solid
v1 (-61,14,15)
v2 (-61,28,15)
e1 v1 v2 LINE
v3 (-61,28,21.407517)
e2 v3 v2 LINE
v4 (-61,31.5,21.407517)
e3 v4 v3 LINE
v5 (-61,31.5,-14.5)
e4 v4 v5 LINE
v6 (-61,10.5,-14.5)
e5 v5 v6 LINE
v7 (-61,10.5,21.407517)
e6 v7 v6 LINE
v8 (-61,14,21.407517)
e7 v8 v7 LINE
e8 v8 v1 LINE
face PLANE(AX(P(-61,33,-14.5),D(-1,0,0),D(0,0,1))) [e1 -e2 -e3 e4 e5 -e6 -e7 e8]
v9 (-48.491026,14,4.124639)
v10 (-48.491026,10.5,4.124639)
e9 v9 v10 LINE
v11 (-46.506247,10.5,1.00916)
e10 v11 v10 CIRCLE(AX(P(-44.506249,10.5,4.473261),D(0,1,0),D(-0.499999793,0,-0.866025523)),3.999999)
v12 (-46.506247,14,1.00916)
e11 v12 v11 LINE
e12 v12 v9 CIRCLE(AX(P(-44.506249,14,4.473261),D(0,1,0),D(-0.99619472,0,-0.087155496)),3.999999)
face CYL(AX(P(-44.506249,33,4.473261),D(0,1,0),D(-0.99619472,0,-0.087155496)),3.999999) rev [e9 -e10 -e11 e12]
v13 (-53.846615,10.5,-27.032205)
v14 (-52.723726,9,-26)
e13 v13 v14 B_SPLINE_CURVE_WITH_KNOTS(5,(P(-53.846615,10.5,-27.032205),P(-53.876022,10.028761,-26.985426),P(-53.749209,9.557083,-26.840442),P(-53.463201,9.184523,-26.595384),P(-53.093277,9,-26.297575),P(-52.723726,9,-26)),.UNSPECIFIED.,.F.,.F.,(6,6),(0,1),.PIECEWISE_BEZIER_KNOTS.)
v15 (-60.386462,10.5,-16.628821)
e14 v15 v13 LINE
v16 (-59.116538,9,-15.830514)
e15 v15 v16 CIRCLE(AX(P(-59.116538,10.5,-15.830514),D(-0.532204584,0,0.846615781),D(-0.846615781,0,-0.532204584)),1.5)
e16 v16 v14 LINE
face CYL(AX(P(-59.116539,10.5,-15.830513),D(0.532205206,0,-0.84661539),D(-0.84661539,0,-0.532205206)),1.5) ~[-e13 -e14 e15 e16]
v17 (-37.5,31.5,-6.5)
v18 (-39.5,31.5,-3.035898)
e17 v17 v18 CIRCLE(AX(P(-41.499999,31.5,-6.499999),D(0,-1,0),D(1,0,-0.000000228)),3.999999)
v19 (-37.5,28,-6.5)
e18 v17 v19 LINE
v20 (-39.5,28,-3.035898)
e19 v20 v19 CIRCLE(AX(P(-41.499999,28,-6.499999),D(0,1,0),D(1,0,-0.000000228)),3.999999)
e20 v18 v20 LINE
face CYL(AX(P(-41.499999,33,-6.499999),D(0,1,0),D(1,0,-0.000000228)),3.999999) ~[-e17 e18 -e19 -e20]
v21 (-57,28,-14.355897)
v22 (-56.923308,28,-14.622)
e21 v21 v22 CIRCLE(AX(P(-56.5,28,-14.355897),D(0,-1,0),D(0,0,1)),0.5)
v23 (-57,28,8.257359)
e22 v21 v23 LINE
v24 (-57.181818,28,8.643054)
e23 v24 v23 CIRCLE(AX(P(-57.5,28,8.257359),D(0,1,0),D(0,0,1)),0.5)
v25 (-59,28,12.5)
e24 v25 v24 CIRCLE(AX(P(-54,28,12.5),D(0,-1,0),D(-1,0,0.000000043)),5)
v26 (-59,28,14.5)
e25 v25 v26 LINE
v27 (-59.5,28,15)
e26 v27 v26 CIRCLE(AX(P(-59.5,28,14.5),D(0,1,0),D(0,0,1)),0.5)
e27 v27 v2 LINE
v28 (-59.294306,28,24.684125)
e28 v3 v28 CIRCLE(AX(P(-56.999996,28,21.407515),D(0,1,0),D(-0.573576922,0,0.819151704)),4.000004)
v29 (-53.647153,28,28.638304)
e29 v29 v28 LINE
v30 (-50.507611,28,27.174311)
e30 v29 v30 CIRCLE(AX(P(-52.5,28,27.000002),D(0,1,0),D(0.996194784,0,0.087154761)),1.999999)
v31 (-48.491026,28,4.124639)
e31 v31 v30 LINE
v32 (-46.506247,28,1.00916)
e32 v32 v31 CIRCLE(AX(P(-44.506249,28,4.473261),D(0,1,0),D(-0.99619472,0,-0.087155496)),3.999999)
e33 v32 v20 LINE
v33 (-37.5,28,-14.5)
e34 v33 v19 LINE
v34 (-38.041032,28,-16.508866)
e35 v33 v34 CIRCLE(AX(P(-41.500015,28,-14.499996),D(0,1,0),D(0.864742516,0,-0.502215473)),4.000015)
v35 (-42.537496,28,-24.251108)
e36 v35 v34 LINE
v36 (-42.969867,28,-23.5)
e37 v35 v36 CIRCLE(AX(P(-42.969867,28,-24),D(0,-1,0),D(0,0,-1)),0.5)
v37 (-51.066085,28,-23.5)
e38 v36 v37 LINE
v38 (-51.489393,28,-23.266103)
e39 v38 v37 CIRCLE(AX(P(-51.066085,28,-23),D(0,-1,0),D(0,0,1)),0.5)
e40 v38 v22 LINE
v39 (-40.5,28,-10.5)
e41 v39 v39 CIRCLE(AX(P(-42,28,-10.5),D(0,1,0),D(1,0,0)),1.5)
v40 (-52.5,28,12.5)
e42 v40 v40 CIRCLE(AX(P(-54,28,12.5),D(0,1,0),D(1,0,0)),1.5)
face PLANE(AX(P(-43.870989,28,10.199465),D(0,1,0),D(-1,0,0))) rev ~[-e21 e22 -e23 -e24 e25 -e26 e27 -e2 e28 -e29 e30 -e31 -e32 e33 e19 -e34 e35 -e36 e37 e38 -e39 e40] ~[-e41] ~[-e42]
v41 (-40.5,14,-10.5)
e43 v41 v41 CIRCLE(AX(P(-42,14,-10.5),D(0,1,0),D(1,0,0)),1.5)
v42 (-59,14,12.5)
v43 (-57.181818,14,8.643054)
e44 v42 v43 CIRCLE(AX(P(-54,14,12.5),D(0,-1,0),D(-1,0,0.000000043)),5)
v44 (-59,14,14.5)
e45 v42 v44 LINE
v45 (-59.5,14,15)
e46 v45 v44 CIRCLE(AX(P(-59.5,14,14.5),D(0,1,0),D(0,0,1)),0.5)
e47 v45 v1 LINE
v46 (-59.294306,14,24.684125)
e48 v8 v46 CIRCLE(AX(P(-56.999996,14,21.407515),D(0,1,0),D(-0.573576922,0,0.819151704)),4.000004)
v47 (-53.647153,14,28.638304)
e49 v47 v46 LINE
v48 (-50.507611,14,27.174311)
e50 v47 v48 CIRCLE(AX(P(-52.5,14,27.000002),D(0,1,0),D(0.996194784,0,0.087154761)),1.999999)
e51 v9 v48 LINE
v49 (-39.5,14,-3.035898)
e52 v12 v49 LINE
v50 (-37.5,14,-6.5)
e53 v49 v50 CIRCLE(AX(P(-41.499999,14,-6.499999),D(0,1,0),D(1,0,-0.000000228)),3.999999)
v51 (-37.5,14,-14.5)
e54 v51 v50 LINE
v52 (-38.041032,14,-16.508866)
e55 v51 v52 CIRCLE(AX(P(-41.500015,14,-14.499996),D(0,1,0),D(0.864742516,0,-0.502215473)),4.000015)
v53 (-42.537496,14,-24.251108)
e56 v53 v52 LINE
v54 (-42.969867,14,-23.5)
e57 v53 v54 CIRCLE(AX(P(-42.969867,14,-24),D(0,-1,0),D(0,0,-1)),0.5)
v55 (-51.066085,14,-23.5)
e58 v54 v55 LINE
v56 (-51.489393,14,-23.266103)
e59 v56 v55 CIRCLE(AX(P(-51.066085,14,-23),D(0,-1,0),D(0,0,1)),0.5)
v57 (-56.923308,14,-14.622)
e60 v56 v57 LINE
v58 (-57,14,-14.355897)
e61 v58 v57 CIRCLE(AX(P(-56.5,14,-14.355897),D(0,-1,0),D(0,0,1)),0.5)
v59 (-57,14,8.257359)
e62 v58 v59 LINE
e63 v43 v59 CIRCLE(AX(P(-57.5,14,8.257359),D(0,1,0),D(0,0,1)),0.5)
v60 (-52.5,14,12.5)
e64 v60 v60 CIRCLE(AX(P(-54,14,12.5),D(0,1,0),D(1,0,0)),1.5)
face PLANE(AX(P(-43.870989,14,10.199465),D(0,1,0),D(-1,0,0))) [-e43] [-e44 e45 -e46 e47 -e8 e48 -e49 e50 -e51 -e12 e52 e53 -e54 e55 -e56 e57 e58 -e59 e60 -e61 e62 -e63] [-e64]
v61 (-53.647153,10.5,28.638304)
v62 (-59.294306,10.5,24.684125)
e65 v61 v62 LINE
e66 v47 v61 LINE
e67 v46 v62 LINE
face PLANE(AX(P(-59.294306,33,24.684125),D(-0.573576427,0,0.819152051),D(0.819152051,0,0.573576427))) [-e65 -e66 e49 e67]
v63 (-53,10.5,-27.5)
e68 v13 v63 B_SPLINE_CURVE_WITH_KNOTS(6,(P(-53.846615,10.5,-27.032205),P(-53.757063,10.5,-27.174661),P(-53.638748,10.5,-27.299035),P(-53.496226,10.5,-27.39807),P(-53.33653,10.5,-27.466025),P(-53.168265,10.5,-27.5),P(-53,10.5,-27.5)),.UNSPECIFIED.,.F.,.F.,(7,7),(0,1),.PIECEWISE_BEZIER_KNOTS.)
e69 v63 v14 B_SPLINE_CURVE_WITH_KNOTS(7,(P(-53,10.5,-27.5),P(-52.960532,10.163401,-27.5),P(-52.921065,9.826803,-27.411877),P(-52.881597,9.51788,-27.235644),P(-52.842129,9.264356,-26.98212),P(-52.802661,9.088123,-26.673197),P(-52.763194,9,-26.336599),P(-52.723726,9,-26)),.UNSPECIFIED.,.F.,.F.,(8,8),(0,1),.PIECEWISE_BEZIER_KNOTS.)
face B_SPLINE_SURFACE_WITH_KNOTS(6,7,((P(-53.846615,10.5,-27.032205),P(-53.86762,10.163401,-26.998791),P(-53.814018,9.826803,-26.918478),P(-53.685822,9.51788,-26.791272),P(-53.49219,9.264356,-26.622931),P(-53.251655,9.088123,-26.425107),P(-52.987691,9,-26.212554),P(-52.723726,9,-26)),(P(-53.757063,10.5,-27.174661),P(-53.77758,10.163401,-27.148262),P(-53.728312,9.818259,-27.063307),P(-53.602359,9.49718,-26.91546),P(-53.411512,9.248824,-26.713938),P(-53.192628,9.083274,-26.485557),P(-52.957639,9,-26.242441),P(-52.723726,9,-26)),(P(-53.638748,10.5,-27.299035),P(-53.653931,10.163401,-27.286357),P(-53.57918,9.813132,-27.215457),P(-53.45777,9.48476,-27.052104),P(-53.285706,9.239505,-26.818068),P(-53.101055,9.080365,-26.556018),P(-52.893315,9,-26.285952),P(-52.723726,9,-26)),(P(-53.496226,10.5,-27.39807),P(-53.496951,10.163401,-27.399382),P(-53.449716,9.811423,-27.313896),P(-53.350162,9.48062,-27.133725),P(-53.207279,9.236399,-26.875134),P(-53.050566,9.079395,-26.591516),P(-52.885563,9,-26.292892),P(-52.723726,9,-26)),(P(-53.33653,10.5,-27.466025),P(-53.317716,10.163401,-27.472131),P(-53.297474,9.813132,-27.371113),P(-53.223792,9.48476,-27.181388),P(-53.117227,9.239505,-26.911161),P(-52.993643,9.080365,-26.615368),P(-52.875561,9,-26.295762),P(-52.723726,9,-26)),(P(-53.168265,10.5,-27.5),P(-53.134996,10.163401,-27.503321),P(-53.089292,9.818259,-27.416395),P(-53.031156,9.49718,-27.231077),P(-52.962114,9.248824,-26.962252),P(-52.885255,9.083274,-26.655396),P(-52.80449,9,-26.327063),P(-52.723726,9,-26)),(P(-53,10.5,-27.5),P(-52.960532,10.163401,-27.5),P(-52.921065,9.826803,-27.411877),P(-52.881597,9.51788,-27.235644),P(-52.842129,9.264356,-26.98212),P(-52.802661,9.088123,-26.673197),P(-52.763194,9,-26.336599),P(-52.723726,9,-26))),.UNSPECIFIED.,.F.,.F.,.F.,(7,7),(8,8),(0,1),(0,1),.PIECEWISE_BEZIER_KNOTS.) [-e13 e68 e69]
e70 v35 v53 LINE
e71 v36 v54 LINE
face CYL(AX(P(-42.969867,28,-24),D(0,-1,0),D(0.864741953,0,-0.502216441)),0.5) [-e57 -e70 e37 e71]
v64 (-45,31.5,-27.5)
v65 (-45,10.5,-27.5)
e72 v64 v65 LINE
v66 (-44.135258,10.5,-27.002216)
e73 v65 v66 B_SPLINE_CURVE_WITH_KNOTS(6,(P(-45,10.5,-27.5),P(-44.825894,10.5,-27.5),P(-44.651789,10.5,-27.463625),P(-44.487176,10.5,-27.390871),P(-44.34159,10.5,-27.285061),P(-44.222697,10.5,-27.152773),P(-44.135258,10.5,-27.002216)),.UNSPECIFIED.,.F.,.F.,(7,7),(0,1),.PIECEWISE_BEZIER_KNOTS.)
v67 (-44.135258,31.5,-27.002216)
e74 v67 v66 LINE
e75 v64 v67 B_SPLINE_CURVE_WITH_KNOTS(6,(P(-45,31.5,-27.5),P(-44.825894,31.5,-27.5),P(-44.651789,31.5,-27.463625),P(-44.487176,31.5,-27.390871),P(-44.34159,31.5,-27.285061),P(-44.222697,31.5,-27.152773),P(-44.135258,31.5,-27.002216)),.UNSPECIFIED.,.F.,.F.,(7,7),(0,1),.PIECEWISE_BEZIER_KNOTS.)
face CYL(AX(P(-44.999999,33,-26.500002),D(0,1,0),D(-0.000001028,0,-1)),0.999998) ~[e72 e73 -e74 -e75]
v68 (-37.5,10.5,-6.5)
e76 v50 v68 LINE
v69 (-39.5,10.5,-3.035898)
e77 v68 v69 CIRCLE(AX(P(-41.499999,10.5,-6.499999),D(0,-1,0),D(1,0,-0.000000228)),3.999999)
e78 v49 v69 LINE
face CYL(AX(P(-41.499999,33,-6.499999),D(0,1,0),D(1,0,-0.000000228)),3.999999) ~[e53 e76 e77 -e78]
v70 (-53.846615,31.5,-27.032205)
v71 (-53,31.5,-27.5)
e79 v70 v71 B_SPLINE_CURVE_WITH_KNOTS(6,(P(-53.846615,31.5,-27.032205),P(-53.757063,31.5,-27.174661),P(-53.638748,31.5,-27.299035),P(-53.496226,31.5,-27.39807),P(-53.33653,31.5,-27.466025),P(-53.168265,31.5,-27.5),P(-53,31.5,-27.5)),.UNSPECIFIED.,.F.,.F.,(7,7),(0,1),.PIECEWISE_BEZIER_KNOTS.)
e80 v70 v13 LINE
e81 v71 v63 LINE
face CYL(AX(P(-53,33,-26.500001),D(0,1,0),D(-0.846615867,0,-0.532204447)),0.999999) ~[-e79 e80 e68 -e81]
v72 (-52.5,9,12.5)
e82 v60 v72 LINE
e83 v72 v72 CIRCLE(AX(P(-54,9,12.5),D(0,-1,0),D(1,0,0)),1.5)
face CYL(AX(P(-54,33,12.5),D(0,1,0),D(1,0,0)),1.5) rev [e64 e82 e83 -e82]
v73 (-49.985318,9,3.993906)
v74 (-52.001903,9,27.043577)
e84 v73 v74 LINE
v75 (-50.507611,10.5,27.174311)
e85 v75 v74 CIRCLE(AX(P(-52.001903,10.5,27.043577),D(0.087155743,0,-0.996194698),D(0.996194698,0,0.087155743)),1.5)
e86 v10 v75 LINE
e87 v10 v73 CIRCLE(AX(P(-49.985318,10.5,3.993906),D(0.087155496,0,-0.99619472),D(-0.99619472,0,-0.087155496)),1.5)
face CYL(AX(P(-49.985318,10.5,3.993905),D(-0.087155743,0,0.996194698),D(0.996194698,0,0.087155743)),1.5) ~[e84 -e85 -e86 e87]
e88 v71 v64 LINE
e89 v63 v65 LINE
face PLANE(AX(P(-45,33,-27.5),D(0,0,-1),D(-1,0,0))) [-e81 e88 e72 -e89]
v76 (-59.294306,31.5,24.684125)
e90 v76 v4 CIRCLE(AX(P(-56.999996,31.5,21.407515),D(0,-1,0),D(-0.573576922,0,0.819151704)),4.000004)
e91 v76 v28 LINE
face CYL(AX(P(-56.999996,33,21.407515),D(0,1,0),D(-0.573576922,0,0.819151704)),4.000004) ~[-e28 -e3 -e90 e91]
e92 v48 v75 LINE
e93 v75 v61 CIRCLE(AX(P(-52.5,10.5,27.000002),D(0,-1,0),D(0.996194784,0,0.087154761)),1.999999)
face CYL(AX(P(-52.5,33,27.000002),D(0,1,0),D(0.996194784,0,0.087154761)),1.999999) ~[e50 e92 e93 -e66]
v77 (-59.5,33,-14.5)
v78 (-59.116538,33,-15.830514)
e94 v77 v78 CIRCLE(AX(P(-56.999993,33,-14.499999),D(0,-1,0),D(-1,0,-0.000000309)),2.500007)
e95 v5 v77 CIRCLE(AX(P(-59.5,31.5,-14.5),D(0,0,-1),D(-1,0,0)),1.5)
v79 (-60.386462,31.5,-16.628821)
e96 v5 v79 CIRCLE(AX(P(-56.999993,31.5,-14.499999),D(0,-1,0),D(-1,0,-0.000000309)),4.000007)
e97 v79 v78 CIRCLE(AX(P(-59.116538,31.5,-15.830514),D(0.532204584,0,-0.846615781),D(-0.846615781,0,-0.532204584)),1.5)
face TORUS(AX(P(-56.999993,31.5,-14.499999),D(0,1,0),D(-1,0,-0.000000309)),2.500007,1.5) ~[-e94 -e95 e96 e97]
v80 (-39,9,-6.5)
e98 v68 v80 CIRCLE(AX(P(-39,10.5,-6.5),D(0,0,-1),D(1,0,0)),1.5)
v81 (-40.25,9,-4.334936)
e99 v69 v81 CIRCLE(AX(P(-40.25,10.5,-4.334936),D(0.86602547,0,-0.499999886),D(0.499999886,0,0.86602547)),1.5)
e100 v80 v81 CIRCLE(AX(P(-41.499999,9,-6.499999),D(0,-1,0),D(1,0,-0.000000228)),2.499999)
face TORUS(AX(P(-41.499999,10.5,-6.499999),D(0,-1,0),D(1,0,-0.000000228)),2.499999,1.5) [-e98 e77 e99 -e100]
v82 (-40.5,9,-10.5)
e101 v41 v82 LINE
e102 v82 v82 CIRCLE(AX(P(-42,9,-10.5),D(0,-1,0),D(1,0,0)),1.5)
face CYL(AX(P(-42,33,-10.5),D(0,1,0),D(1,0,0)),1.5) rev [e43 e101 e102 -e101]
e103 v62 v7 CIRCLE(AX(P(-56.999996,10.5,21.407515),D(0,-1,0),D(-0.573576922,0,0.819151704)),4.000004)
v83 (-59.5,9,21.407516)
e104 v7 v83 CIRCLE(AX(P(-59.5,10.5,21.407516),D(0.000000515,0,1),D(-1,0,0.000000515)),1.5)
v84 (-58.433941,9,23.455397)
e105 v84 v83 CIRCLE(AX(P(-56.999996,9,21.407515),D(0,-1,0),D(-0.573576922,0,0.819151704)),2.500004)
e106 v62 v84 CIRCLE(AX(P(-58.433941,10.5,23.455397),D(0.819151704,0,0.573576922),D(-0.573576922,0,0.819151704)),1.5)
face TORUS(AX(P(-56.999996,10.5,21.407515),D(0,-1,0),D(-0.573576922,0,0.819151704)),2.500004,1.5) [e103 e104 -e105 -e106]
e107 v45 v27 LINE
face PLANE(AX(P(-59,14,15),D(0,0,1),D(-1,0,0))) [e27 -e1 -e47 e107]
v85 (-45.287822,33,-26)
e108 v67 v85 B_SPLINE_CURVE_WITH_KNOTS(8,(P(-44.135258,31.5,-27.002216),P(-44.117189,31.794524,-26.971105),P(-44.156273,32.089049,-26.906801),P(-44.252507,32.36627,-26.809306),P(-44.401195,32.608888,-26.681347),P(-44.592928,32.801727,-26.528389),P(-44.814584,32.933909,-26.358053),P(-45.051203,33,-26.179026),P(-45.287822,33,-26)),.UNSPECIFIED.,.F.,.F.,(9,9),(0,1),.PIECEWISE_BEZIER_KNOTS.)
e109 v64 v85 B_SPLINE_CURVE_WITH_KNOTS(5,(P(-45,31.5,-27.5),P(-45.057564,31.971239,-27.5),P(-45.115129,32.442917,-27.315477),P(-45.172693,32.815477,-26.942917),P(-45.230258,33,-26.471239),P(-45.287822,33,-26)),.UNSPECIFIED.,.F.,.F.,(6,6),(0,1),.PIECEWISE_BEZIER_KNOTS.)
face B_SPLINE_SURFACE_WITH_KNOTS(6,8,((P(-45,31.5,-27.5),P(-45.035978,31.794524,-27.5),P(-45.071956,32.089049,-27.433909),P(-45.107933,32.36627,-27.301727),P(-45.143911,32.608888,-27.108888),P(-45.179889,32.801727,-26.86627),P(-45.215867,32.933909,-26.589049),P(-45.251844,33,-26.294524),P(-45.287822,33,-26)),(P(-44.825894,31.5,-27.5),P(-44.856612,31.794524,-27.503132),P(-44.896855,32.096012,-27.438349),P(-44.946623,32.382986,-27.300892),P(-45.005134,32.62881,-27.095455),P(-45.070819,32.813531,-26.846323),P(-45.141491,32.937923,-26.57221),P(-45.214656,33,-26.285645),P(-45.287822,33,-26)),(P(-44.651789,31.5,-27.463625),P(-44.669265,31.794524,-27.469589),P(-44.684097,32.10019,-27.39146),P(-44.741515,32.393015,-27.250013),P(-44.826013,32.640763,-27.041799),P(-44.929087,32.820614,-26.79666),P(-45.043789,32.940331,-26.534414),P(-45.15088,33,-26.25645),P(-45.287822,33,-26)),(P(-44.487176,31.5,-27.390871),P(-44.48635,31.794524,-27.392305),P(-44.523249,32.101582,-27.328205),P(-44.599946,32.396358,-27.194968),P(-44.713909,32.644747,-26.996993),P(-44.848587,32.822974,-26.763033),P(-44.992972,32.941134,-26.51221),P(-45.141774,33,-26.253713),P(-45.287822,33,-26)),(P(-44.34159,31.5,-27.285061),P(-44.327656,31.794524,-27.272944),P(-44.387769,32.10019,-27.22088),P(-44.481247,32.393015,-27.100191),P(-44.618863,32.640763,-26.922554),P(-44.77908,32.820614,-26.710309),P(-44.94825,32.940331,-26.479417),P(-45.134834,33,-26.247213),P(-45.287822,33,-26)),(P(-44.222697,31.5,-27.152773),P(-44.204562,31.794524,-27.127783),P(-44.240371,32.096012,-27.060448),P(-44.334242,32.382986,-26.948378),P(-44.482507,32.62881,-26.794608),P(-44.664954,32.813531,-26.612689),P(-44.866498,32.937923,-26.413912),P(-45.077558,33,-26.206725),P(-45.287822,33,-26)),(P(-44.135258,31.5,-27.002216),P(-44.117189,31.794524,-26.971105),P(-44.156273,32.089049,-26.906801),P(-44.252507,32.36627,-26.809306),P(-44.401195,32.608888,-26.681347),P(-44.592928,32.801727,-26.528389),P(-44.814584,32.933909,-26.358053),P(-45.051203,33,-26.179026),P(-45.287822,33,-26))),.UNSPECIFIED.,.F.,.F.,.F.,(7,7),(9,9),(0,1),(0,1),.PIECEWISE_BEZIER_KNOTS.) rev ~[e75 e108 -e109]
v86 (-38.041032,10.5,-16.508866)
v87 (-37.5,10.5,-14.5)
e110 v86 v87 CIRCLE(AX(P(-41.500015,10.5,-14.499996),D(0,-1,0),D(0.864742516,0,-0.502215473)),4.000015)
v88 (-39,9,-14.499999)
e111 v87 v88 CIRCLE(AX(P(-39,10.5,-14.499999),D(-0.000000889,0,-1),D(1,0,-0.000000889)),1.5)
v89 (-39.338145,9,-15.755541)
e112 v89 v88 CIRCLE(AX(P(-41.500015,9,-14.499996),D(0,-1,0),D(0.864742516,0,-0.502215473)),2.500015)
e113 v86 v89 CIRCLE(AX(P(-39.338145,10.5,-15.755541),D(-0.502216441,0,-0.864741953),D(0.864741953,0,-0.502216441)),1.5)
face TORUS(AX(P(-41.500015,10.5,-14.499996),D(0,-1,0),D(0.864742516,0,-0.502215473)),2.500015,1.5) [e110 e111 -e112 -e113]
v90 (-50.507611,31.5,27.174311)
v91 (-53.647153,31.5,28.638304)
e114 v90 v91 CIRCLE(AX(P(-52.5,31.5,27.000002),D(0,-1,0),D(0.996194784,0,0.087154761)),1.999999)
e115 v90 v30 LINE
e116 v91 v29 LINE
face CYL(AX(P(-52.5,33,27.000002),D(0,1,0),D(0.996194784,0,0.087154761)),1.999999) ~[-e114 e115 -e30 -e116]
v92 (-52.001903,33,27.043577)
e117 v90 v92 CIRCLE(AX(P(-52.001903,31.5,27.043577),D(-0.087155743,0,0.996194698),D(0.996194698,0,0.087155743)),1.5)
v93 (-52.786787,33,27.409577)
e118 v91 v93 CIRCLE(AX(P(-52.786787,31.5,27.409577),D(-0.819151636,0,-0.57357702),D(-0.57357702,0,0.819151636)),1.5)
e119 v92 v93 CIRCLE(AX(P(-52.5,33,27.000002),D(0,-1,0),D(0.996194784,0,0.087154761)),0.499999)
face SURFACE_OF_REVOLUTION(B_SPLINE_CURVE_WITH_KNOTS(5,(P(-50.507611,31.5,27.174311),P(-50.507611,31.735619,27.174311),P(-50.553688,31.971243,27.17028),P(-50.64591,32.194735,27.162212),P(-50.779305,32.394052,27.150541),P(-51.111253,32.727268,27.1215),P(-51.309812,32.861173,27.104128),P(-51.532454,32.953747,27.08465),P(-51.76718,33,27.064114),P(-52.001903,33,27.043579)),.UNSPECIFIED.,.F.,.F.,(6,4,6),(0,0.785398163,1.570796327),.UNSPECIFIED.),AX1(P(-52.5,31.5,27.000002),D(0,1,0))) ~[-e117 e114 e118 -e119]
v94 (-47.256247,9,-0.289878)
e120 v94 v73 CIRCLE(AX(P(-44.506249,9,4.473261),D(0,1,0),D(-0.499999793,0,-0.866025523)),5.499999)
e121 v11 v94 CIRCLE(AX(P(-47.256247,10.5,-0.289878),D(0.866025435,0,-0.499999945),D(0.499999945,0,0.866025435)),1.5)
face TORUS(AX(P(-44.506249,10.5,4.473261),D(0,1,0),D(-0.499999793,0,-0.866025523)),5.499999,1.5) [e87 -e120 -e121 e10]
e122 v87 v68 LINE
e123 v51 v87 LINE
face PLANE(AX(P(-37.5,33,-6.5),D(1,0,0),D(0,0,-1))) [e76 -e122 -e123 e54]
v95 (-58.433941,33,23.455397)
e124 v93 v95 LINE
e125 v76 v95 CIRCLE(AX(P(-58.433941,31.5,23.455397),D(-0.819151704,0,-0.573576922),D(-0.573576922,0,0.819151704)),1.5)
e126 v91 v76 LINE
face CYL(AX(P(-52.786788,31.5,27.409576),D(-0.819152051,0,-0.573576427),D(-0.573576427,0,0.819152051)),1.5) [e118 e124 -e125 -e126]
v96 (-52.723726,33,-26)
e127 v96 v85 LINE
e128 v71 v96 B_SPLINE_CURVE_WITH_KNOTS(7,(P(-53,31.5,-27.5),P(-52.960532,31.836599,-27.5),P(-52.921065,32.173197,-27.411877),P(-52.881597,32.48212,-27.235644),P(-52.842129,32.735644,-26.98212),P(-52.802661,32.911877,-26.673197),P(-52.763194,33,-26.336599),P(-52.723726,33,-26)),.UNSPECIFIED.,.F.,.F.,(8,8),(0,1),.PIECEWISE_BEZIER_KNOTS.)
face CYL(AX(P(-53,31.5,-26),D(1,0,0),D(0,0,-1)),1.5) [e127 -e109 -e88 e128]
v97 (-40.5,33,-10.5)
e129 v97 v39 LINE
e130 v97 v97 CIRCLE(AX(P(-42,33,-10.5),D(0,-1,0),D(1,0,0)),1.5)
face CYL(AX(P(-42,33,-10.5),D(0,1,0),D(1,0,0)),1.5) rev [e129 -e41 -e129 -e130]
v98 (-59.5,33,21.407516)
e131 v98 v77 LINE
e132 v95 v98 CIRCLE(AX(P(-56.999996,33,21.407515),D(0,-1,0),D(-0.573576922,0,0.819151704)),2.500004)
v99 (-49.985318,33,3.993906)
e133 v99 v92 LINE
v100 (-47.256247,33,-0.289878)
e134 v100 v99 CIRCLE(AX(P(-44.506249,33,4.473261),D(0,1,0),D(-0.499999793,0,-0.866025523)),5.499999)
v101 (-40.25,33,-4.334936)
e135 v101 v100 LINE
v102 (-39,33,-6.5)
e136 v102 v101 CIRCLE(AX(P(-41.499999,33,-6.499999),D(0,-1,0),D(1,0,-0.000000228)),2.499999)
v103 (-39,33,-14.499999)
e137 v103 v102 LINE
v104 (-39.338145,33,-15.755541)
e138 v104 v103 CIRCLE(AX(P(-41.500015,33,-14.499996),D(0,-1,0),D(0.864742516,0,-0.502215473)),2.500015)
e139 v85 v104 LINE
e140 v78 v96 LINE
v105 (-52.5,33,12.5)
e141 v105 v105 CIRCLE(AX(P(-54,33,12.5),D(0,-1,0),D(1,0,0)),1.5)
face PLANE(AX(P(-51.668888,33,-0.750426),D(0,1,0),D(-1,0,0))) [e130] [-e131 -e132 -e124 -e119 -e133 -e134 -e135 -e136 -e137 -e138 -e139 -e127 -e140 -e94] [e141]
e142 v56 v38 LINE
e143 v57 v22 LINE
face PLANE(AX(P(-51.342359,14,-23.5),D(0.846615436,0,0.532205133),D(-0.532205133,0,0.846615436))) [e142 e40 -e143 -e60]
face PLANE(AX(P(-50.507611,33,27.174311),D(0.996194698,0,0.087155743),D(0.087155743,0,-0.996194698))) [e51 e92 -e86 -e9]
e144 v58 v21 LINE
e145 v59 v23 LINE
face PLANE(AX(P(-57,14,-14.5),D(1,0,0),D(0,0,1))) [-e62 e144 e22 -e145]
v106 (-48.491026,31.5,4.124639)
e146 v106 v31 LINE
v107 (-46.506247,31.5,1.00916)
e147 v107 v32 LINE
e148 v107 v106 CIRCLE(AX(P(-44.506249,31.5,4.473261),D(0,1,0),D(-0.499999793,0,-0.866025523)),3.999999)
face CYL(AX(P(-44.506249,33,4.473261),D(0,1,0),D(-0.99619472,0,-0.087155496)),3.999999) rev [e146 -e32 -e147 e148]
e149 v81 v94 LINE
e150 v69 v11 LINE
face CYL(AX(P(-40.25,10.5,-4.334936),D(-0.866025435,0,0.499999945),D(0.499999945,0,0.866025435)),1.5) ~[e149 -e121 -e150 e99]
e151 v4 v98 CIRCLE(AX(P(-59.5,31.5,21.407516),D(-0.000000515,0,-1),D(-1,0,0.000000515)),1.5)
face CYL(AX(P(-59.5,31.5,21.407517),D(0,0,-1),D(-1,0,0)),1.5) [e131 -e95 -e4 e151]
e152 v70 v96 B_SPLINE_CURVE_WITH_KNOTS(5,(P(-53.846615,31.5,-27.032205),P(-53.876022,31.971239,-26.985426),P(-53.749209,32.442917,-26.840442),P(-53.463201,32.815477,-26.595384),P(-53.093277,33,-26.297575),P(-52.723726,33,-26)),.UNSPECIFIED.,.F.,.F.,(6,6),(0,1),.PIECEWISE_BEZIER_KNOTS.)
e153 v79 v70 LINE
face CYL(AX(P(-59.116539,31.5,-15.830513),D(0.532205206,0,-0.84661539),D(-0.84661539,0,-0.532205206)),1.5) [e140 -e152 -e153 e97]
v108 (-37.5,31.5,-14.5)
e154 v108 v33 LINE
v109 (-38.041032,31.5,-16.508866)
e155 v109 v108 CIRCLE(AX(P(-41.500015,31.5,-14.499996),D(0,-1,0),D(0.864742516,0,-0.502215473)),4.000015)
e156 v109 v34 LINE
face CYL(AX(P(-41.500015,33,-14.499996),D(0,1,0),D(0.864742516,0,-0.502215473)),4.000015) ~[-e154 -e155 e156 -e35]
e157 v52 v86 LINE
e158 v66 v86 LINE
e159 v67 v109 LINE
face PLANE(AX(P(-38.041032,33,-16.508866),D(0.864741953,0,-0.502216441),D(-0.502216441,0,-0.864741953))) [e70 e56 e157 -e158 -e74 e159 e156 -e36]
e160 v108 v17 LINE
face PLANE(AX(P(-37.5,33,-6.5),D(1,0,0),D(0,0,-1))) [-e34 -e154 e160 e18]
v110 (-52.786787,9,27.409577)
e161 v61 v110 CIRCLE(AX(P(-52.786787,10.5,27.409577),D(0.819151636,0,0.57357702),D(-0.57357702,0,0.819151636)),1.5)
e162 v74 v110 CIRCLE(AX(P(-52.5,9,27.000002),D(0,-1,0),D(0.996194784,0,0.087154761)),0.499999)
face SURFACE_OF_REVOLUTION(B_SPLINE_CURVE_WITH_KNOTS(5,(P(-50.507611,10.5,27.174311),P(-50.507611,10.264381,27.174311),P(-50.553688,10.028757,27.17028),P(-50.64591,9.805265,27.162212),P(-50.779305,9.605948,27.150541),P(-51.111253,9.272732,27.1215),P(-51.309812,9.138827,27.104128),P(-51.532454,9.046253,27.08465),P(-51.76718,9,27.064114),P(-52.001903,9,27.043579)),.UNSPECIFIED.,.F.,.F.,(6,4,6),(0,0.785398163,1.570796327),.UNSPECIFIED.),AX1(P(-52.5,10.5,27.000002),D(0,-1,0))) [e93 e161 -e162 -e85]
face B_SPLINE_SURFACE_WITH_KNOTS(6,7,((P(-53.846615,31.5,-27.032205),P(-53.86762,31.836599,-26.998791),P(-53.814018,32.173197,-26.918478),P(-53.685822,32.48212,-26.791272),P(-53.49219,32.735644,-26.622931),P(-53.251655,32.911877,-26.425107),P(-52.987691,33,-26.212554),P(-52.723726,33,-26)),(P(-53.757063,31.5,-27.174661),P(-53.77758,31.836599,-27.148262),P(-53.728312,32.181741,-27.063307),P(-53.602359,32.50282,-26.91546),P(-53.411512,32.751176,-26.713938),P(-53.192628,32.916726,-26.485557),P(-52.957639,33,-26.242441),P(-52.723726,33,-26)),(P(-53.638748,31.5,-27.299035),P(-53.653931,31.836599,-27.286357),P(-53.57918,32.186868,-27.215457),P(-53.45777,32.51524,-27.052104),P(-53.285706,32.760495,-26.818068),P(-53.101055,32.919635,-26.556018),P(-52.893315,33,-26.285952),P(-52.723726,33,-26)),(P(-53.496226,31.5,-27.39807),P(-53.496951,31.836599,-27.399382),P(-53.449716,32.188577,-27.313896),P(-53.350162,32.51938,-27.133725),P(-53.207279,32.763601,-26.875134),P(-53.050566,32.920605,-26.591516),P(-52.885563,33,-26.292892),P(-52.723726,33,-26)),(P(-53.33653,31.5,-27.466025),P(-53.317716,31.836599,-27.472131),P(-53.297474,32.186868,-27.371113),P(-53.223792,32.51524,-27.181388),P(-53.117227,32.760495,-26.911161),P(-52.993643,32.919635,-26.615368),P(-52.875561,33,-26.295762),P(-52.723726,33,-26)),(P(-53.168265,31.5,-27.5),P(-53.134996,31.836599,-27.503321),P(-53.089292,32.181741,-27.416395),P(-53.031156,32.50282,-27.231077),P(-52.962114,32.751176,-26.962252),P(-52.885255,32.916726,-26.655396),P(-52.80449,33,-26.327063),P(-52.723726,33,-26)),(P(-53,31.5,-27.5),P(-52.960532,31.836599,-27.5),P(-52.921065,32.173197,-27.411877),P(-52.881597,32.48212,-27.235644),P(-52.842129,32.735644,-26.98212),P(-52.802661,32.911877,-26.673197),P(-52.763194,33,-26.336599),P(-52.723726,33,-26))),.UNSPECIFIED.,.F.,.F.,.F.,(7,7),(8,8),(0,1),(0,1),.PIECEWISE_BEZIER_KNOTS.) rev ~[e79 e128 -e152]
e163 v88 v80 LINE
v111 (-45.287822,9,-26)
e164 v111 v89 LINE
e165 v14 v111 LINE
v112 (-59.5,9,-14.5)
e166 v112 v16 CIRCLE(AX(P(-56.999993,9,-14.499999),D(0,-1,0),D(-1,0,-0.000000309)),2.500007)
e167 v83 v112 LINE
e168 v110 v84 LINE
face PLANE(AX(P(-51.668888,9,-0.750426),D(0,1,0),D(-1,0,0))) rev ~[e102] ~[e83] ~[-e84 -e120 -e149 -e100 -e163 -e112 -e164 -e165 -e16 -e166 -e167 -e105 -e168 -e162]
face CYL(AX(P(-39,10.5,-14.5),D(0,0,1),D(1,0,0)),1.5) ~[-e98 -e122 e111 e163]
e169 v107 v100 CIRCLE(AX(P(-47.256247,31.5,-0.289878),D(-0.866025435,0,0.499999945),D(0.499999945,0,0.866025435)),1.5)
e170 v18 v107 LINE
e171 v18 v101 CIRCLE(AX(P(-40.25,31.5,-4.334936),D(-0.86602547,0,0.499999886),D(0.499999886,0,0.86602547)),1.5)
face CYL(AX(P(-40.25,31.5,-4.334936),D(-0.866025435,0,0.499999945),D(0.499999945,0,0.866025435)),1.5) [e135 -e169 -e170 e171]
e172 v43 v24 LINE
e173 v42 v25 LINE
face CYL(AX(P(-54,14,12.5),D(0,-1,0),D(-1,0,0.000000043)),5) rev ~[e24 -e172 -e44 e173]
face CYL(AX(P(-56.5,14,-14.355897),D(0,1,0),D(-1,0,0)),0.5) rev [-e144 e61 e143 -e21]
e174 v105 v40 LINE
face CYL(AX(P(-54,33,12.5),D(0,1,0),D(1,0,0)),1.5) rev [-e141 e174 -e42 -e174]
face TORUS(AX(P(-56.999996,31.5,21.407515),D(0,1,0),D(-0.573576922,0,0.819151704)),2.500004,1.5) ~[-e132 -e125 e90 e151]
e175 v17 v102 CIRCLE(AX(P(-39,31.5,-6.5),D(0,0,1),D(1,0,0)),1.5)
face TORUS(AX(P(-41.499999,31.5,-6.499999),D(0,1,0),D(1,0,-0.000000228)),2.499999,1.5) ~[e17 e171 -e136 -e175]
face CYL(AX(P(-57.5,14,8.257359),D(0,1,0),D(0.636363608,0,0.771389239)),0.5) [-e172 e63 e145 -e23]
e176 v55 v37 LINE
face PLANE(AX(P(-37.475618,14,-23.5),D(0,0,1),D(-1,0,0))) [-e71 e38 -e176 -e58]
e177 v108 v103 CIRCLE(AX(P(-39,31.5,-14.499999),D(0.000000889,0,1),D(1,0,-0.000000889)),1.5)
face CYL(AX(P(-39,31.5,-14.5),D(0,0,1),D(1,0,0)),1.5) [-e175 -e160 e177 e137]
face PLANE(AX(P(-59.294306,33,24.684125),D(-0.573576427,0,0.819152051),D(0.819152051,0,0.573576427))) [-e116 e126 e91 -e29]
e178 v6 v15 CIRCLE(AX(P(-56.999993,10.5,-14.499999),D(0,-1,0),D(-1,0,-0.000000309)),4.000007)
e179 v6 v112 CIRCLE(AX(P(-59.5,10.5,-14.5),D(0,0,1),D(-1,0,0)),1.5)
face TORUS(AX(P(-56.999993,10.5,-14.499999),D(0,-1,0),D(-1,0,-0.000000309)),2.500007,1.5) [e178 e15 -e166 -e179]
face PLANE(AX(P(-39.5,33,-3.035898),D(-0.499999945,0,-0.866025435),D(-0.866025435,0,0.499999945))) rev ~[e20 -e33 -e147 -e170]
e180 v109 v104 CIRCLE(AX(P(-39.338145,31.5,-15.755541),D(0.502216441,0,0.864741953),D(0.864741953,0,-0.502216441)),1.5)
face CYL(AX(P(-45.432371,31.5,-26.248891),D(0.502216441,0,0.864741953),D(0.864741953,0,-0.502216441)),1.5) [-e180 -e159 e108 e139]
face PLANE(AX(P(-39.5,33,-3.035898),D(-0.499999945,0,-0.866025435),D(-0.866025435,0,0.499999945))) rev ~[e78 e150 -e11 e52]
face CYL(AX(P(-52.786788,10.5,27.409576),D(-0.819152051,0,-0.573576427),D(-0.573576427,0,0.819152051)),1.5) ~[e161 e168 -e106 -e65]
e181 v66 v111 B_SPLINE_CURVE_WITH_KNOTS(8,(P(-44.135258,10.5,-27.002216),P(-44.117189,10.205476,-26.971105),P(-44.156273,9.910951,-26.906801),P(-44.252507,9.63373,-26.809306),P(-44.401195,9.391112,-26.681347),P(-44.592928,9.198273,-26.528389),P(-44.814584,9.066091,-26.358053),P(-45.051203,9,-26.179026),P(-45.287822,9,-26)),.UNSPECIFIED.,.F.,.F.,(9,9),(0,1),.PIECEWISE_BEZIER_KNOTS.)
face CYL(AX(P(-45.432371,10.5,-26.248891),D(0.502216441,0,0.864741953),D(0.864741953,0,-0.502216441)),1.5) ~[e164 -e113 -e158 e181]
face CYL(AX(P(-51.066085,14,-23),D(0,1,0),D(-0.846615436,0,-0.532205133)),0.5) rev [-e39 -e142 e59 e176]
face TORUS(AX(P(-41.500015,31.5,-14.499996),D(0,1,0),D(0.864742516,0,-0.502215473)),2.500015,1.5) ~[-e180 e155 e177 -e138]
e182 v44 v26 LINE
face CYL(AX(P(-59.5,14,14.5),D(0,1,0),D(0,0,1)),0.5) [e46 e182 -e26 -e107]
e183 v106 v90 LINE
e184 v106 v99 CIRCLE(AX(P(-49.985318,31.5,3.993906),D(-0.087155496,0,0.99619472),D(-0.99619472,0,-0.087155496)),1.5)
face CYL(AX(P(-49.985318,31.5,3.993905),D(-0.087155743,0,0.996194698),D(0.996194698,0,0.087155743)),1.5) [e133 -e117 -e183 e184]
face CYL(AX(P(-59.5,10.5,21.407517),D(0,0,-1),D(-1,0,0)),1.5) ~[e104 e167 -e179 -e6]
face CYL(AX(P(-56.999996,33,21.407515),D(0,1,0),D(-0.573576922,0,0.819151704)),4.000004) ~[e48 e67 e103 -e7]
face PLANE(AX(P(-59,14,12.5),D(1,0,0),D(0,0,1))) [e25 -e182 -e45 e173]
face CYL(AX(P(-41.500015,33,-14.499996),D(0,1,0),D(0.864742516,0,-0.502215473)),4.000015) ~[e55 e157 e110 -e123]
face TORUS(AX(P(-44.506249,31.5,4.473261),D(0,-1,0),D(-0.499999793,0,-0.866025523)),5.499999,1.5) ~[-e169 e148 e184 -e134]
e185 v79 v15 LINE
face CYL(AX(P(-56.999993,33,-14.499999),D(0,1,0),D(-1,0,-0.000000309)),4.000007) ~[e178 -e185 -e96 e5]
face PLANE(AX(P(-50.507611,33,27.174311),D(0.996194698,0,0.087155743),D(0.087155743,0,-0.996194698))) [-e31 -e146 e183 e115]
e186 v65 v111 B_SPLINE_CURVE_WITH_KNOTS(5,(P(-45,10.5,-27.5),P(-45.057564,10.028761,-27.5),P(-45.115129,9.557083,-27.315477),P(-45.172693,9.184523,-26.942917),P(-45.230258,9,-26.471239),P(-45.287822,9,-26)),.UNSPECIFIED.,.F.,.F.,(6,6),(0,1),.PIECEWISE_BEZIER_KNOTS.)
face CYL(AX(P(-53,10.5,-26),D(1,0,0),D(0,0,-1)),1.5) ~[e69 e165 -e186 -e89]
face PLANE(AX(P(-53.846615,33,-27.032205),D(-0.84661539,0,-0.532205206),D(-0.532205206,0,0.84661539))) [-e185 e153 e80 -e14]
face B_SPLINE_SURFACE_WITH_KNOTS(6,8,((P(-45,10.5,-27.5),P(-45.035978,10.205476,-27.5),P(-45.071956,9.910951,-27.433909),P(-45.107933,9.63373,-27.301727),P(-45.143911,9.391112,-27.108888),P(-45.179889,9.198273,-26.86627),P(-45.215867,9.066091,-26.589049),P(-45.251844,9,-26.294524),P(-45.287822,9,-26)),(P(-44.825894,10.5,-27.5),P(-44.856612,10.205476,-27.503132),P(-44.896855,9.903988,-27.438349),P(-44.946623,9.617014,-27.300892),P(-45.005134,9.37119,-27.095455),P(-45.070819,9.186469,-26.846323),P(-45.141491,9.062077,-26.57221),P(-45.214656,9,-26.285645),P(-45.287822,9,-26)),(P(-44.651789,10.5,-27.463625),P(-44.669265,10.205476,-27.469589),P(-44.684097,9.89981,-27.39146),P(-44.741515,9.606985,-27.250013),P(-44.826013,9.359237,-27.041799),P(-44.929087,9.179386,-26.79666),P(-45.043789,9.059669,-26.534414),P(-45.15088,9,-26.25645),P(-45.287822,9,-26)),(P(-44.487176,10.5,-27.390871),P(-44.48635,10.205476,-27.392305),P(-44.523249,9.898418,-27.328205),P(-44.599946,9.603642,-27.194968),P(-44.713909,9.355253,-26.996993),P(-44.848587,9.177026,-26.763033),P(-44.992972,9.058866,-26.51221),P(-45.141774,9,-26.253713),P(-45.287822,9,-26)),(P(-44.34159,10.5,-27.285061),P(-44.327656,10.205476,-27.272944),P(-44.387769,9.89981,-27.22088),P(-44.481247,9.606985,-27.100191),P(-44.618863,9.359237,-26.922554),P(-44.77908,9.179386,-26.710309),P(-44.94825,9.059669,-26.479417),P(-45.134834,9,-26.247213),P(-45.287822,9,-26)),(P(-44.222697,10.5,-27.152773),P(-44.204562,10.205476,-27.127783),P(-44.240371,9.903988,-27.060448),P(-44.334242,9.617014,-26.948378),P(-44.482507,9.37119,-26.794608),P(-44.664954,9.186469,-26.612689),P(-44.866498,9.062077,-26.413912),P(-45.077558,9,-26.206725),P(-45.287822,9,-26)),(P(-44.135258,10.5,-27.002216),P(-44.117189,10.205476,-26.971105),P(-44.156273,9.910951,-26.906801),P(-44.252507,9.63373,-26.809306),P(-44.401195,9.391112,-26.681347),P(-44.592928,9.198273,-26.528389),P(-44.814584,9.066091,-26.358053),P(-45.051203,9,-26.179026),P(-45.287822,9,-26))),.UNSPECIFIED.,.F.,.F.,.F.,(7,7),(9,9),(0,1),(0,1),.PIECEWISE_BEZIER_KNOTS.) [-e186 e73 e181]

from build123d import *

# Parameters (mm, degrees)
SKETCH036_R     = 1.5
PAD021_DEPTH    = 24
FILLET007_R     = 1.5
POCKET013_DEPTH = 14
FILLET008_R     = 0.5


with BuildPart() as part:
    # Sketch036 → Pad021 (new body)
    with BuildSketch(Plane.XZ):
        with BuildLine():
            Line((-59.294306, 24.684125), (-53.647153, 28.638304))
            ThreePointArc((-50.507611, 27.174311), (-51.654763, 28.812616), (-53.647153, 28.638304))
            Line((-50.507611, 27.174311), (-48.491026, 4.124639))
            ThreePointArc((-48.491026, 4.124639), (-47.879813, 2.324063), (-46.506247, 1.00916))
            Line((-39.5, -3.035898), (-46.506247, 1.00916))
            ThreePointArc((-37.5, -6.5), (-38.035898, -4.5), (-39.5, -3.035898))
            Line((-37.5, -6.5), (-37.5, -14.5))
            ThreePointArc((-38.041032, -16.508866), (-37.637626, -15.540223), (-37.5, -14.5))
            Line((-38.041032, -16.508866), (-44.135258, -27.002216))
            ThreePointArc((-45, -27.5), (-44.501109, -27.366665), (-44.135258, -27.002216))
            Line((-45, -27.5), (-53, -27.5))
            ThreePointArc((-53.846615, -27.032205), (-53.483629, -27.375273), (-53, -27.5))
            Line((-53.846615, -27.032205), (-60.386462, -16.628821))
            ThreePointArc((-61, -14.5), (-60.843556, -15.607735), (-60.386462, -16.628821))
            Line((-61, -14.5), (-61, 21.407517))
            ThreePointArc((-59.294306, 24.684125), (-60.548043, 23.254511), (-61, 21.407517))
        make_face()
        with Locations((-54, 12.5)):
            Circle(SKETCH036_R, mode=Mode.SUBTRACT)
        with Locations((-42, -10.5)):
            Circle(SKETCH036_R, mode=Mode.SUBTRACT)
    extrude(amount=PAD021_DEPTH)

    # Fillet007
    fillet007_edges = [part.edges().sort_by_distance(p)[0] for p in [
        (-60.548043, 0, 23.254511),
        (-60.548043, -24, 23.254511),
    ]]
    fillet(fillet007_edges, radius=FILLET007_R)

    # Sketch037 (on Face12 of Fillet007) → Pocket013 (cut)
    with BuildSketch(Plane.XZ.offset(19)):
        with BuildLine():
            Line((-37.475618, -23.5), (-51.342359, -23.5))
            Line((-51.342359, -23.5), (-57, -14.5))
            Line((-57, -14.5), (-57, 8.5))
            ThreePointArc((-59, 12.5), (-58.472136, 10.263932), (-57, 8.5))
            Line((-59, 12.5), (-59, 15))
            Line((-59, 15), (-79, 15))
            Line((-79, 15), (-79, 35))
            Line((-79, 35), (-15.733307, 35))
            Line((-15.733307, 35), (-15.733307, -20.5))
            Line((-15.733307, -20.5), (-35.733307, -20.5))
            Line((-35.733307, -20.5), (-37.475618, -23.5))
        make_face()
    extrude(amount=-POCKET013_DEPTH, mode=Mode.SUBTRACT)

    # Fillet008
    fillet008_edges = [part.edges().sort_by_distance(p)[0] for p in [
        (-57, -12, 8.5),
        (-59, -12, 15),
        (-57, -12, -14.5),
        (-51.342359, -12, -23.5),
        (-42.101275, -12, -23.5),
    ]]
    fillet(fillet008_edges, radius=FILLET008_R)


with BuildPart() as part_1:
    # Body003 placement: moved
    add(part.part.moved(Location((0, 33, 0))))


solid = part_1.part
